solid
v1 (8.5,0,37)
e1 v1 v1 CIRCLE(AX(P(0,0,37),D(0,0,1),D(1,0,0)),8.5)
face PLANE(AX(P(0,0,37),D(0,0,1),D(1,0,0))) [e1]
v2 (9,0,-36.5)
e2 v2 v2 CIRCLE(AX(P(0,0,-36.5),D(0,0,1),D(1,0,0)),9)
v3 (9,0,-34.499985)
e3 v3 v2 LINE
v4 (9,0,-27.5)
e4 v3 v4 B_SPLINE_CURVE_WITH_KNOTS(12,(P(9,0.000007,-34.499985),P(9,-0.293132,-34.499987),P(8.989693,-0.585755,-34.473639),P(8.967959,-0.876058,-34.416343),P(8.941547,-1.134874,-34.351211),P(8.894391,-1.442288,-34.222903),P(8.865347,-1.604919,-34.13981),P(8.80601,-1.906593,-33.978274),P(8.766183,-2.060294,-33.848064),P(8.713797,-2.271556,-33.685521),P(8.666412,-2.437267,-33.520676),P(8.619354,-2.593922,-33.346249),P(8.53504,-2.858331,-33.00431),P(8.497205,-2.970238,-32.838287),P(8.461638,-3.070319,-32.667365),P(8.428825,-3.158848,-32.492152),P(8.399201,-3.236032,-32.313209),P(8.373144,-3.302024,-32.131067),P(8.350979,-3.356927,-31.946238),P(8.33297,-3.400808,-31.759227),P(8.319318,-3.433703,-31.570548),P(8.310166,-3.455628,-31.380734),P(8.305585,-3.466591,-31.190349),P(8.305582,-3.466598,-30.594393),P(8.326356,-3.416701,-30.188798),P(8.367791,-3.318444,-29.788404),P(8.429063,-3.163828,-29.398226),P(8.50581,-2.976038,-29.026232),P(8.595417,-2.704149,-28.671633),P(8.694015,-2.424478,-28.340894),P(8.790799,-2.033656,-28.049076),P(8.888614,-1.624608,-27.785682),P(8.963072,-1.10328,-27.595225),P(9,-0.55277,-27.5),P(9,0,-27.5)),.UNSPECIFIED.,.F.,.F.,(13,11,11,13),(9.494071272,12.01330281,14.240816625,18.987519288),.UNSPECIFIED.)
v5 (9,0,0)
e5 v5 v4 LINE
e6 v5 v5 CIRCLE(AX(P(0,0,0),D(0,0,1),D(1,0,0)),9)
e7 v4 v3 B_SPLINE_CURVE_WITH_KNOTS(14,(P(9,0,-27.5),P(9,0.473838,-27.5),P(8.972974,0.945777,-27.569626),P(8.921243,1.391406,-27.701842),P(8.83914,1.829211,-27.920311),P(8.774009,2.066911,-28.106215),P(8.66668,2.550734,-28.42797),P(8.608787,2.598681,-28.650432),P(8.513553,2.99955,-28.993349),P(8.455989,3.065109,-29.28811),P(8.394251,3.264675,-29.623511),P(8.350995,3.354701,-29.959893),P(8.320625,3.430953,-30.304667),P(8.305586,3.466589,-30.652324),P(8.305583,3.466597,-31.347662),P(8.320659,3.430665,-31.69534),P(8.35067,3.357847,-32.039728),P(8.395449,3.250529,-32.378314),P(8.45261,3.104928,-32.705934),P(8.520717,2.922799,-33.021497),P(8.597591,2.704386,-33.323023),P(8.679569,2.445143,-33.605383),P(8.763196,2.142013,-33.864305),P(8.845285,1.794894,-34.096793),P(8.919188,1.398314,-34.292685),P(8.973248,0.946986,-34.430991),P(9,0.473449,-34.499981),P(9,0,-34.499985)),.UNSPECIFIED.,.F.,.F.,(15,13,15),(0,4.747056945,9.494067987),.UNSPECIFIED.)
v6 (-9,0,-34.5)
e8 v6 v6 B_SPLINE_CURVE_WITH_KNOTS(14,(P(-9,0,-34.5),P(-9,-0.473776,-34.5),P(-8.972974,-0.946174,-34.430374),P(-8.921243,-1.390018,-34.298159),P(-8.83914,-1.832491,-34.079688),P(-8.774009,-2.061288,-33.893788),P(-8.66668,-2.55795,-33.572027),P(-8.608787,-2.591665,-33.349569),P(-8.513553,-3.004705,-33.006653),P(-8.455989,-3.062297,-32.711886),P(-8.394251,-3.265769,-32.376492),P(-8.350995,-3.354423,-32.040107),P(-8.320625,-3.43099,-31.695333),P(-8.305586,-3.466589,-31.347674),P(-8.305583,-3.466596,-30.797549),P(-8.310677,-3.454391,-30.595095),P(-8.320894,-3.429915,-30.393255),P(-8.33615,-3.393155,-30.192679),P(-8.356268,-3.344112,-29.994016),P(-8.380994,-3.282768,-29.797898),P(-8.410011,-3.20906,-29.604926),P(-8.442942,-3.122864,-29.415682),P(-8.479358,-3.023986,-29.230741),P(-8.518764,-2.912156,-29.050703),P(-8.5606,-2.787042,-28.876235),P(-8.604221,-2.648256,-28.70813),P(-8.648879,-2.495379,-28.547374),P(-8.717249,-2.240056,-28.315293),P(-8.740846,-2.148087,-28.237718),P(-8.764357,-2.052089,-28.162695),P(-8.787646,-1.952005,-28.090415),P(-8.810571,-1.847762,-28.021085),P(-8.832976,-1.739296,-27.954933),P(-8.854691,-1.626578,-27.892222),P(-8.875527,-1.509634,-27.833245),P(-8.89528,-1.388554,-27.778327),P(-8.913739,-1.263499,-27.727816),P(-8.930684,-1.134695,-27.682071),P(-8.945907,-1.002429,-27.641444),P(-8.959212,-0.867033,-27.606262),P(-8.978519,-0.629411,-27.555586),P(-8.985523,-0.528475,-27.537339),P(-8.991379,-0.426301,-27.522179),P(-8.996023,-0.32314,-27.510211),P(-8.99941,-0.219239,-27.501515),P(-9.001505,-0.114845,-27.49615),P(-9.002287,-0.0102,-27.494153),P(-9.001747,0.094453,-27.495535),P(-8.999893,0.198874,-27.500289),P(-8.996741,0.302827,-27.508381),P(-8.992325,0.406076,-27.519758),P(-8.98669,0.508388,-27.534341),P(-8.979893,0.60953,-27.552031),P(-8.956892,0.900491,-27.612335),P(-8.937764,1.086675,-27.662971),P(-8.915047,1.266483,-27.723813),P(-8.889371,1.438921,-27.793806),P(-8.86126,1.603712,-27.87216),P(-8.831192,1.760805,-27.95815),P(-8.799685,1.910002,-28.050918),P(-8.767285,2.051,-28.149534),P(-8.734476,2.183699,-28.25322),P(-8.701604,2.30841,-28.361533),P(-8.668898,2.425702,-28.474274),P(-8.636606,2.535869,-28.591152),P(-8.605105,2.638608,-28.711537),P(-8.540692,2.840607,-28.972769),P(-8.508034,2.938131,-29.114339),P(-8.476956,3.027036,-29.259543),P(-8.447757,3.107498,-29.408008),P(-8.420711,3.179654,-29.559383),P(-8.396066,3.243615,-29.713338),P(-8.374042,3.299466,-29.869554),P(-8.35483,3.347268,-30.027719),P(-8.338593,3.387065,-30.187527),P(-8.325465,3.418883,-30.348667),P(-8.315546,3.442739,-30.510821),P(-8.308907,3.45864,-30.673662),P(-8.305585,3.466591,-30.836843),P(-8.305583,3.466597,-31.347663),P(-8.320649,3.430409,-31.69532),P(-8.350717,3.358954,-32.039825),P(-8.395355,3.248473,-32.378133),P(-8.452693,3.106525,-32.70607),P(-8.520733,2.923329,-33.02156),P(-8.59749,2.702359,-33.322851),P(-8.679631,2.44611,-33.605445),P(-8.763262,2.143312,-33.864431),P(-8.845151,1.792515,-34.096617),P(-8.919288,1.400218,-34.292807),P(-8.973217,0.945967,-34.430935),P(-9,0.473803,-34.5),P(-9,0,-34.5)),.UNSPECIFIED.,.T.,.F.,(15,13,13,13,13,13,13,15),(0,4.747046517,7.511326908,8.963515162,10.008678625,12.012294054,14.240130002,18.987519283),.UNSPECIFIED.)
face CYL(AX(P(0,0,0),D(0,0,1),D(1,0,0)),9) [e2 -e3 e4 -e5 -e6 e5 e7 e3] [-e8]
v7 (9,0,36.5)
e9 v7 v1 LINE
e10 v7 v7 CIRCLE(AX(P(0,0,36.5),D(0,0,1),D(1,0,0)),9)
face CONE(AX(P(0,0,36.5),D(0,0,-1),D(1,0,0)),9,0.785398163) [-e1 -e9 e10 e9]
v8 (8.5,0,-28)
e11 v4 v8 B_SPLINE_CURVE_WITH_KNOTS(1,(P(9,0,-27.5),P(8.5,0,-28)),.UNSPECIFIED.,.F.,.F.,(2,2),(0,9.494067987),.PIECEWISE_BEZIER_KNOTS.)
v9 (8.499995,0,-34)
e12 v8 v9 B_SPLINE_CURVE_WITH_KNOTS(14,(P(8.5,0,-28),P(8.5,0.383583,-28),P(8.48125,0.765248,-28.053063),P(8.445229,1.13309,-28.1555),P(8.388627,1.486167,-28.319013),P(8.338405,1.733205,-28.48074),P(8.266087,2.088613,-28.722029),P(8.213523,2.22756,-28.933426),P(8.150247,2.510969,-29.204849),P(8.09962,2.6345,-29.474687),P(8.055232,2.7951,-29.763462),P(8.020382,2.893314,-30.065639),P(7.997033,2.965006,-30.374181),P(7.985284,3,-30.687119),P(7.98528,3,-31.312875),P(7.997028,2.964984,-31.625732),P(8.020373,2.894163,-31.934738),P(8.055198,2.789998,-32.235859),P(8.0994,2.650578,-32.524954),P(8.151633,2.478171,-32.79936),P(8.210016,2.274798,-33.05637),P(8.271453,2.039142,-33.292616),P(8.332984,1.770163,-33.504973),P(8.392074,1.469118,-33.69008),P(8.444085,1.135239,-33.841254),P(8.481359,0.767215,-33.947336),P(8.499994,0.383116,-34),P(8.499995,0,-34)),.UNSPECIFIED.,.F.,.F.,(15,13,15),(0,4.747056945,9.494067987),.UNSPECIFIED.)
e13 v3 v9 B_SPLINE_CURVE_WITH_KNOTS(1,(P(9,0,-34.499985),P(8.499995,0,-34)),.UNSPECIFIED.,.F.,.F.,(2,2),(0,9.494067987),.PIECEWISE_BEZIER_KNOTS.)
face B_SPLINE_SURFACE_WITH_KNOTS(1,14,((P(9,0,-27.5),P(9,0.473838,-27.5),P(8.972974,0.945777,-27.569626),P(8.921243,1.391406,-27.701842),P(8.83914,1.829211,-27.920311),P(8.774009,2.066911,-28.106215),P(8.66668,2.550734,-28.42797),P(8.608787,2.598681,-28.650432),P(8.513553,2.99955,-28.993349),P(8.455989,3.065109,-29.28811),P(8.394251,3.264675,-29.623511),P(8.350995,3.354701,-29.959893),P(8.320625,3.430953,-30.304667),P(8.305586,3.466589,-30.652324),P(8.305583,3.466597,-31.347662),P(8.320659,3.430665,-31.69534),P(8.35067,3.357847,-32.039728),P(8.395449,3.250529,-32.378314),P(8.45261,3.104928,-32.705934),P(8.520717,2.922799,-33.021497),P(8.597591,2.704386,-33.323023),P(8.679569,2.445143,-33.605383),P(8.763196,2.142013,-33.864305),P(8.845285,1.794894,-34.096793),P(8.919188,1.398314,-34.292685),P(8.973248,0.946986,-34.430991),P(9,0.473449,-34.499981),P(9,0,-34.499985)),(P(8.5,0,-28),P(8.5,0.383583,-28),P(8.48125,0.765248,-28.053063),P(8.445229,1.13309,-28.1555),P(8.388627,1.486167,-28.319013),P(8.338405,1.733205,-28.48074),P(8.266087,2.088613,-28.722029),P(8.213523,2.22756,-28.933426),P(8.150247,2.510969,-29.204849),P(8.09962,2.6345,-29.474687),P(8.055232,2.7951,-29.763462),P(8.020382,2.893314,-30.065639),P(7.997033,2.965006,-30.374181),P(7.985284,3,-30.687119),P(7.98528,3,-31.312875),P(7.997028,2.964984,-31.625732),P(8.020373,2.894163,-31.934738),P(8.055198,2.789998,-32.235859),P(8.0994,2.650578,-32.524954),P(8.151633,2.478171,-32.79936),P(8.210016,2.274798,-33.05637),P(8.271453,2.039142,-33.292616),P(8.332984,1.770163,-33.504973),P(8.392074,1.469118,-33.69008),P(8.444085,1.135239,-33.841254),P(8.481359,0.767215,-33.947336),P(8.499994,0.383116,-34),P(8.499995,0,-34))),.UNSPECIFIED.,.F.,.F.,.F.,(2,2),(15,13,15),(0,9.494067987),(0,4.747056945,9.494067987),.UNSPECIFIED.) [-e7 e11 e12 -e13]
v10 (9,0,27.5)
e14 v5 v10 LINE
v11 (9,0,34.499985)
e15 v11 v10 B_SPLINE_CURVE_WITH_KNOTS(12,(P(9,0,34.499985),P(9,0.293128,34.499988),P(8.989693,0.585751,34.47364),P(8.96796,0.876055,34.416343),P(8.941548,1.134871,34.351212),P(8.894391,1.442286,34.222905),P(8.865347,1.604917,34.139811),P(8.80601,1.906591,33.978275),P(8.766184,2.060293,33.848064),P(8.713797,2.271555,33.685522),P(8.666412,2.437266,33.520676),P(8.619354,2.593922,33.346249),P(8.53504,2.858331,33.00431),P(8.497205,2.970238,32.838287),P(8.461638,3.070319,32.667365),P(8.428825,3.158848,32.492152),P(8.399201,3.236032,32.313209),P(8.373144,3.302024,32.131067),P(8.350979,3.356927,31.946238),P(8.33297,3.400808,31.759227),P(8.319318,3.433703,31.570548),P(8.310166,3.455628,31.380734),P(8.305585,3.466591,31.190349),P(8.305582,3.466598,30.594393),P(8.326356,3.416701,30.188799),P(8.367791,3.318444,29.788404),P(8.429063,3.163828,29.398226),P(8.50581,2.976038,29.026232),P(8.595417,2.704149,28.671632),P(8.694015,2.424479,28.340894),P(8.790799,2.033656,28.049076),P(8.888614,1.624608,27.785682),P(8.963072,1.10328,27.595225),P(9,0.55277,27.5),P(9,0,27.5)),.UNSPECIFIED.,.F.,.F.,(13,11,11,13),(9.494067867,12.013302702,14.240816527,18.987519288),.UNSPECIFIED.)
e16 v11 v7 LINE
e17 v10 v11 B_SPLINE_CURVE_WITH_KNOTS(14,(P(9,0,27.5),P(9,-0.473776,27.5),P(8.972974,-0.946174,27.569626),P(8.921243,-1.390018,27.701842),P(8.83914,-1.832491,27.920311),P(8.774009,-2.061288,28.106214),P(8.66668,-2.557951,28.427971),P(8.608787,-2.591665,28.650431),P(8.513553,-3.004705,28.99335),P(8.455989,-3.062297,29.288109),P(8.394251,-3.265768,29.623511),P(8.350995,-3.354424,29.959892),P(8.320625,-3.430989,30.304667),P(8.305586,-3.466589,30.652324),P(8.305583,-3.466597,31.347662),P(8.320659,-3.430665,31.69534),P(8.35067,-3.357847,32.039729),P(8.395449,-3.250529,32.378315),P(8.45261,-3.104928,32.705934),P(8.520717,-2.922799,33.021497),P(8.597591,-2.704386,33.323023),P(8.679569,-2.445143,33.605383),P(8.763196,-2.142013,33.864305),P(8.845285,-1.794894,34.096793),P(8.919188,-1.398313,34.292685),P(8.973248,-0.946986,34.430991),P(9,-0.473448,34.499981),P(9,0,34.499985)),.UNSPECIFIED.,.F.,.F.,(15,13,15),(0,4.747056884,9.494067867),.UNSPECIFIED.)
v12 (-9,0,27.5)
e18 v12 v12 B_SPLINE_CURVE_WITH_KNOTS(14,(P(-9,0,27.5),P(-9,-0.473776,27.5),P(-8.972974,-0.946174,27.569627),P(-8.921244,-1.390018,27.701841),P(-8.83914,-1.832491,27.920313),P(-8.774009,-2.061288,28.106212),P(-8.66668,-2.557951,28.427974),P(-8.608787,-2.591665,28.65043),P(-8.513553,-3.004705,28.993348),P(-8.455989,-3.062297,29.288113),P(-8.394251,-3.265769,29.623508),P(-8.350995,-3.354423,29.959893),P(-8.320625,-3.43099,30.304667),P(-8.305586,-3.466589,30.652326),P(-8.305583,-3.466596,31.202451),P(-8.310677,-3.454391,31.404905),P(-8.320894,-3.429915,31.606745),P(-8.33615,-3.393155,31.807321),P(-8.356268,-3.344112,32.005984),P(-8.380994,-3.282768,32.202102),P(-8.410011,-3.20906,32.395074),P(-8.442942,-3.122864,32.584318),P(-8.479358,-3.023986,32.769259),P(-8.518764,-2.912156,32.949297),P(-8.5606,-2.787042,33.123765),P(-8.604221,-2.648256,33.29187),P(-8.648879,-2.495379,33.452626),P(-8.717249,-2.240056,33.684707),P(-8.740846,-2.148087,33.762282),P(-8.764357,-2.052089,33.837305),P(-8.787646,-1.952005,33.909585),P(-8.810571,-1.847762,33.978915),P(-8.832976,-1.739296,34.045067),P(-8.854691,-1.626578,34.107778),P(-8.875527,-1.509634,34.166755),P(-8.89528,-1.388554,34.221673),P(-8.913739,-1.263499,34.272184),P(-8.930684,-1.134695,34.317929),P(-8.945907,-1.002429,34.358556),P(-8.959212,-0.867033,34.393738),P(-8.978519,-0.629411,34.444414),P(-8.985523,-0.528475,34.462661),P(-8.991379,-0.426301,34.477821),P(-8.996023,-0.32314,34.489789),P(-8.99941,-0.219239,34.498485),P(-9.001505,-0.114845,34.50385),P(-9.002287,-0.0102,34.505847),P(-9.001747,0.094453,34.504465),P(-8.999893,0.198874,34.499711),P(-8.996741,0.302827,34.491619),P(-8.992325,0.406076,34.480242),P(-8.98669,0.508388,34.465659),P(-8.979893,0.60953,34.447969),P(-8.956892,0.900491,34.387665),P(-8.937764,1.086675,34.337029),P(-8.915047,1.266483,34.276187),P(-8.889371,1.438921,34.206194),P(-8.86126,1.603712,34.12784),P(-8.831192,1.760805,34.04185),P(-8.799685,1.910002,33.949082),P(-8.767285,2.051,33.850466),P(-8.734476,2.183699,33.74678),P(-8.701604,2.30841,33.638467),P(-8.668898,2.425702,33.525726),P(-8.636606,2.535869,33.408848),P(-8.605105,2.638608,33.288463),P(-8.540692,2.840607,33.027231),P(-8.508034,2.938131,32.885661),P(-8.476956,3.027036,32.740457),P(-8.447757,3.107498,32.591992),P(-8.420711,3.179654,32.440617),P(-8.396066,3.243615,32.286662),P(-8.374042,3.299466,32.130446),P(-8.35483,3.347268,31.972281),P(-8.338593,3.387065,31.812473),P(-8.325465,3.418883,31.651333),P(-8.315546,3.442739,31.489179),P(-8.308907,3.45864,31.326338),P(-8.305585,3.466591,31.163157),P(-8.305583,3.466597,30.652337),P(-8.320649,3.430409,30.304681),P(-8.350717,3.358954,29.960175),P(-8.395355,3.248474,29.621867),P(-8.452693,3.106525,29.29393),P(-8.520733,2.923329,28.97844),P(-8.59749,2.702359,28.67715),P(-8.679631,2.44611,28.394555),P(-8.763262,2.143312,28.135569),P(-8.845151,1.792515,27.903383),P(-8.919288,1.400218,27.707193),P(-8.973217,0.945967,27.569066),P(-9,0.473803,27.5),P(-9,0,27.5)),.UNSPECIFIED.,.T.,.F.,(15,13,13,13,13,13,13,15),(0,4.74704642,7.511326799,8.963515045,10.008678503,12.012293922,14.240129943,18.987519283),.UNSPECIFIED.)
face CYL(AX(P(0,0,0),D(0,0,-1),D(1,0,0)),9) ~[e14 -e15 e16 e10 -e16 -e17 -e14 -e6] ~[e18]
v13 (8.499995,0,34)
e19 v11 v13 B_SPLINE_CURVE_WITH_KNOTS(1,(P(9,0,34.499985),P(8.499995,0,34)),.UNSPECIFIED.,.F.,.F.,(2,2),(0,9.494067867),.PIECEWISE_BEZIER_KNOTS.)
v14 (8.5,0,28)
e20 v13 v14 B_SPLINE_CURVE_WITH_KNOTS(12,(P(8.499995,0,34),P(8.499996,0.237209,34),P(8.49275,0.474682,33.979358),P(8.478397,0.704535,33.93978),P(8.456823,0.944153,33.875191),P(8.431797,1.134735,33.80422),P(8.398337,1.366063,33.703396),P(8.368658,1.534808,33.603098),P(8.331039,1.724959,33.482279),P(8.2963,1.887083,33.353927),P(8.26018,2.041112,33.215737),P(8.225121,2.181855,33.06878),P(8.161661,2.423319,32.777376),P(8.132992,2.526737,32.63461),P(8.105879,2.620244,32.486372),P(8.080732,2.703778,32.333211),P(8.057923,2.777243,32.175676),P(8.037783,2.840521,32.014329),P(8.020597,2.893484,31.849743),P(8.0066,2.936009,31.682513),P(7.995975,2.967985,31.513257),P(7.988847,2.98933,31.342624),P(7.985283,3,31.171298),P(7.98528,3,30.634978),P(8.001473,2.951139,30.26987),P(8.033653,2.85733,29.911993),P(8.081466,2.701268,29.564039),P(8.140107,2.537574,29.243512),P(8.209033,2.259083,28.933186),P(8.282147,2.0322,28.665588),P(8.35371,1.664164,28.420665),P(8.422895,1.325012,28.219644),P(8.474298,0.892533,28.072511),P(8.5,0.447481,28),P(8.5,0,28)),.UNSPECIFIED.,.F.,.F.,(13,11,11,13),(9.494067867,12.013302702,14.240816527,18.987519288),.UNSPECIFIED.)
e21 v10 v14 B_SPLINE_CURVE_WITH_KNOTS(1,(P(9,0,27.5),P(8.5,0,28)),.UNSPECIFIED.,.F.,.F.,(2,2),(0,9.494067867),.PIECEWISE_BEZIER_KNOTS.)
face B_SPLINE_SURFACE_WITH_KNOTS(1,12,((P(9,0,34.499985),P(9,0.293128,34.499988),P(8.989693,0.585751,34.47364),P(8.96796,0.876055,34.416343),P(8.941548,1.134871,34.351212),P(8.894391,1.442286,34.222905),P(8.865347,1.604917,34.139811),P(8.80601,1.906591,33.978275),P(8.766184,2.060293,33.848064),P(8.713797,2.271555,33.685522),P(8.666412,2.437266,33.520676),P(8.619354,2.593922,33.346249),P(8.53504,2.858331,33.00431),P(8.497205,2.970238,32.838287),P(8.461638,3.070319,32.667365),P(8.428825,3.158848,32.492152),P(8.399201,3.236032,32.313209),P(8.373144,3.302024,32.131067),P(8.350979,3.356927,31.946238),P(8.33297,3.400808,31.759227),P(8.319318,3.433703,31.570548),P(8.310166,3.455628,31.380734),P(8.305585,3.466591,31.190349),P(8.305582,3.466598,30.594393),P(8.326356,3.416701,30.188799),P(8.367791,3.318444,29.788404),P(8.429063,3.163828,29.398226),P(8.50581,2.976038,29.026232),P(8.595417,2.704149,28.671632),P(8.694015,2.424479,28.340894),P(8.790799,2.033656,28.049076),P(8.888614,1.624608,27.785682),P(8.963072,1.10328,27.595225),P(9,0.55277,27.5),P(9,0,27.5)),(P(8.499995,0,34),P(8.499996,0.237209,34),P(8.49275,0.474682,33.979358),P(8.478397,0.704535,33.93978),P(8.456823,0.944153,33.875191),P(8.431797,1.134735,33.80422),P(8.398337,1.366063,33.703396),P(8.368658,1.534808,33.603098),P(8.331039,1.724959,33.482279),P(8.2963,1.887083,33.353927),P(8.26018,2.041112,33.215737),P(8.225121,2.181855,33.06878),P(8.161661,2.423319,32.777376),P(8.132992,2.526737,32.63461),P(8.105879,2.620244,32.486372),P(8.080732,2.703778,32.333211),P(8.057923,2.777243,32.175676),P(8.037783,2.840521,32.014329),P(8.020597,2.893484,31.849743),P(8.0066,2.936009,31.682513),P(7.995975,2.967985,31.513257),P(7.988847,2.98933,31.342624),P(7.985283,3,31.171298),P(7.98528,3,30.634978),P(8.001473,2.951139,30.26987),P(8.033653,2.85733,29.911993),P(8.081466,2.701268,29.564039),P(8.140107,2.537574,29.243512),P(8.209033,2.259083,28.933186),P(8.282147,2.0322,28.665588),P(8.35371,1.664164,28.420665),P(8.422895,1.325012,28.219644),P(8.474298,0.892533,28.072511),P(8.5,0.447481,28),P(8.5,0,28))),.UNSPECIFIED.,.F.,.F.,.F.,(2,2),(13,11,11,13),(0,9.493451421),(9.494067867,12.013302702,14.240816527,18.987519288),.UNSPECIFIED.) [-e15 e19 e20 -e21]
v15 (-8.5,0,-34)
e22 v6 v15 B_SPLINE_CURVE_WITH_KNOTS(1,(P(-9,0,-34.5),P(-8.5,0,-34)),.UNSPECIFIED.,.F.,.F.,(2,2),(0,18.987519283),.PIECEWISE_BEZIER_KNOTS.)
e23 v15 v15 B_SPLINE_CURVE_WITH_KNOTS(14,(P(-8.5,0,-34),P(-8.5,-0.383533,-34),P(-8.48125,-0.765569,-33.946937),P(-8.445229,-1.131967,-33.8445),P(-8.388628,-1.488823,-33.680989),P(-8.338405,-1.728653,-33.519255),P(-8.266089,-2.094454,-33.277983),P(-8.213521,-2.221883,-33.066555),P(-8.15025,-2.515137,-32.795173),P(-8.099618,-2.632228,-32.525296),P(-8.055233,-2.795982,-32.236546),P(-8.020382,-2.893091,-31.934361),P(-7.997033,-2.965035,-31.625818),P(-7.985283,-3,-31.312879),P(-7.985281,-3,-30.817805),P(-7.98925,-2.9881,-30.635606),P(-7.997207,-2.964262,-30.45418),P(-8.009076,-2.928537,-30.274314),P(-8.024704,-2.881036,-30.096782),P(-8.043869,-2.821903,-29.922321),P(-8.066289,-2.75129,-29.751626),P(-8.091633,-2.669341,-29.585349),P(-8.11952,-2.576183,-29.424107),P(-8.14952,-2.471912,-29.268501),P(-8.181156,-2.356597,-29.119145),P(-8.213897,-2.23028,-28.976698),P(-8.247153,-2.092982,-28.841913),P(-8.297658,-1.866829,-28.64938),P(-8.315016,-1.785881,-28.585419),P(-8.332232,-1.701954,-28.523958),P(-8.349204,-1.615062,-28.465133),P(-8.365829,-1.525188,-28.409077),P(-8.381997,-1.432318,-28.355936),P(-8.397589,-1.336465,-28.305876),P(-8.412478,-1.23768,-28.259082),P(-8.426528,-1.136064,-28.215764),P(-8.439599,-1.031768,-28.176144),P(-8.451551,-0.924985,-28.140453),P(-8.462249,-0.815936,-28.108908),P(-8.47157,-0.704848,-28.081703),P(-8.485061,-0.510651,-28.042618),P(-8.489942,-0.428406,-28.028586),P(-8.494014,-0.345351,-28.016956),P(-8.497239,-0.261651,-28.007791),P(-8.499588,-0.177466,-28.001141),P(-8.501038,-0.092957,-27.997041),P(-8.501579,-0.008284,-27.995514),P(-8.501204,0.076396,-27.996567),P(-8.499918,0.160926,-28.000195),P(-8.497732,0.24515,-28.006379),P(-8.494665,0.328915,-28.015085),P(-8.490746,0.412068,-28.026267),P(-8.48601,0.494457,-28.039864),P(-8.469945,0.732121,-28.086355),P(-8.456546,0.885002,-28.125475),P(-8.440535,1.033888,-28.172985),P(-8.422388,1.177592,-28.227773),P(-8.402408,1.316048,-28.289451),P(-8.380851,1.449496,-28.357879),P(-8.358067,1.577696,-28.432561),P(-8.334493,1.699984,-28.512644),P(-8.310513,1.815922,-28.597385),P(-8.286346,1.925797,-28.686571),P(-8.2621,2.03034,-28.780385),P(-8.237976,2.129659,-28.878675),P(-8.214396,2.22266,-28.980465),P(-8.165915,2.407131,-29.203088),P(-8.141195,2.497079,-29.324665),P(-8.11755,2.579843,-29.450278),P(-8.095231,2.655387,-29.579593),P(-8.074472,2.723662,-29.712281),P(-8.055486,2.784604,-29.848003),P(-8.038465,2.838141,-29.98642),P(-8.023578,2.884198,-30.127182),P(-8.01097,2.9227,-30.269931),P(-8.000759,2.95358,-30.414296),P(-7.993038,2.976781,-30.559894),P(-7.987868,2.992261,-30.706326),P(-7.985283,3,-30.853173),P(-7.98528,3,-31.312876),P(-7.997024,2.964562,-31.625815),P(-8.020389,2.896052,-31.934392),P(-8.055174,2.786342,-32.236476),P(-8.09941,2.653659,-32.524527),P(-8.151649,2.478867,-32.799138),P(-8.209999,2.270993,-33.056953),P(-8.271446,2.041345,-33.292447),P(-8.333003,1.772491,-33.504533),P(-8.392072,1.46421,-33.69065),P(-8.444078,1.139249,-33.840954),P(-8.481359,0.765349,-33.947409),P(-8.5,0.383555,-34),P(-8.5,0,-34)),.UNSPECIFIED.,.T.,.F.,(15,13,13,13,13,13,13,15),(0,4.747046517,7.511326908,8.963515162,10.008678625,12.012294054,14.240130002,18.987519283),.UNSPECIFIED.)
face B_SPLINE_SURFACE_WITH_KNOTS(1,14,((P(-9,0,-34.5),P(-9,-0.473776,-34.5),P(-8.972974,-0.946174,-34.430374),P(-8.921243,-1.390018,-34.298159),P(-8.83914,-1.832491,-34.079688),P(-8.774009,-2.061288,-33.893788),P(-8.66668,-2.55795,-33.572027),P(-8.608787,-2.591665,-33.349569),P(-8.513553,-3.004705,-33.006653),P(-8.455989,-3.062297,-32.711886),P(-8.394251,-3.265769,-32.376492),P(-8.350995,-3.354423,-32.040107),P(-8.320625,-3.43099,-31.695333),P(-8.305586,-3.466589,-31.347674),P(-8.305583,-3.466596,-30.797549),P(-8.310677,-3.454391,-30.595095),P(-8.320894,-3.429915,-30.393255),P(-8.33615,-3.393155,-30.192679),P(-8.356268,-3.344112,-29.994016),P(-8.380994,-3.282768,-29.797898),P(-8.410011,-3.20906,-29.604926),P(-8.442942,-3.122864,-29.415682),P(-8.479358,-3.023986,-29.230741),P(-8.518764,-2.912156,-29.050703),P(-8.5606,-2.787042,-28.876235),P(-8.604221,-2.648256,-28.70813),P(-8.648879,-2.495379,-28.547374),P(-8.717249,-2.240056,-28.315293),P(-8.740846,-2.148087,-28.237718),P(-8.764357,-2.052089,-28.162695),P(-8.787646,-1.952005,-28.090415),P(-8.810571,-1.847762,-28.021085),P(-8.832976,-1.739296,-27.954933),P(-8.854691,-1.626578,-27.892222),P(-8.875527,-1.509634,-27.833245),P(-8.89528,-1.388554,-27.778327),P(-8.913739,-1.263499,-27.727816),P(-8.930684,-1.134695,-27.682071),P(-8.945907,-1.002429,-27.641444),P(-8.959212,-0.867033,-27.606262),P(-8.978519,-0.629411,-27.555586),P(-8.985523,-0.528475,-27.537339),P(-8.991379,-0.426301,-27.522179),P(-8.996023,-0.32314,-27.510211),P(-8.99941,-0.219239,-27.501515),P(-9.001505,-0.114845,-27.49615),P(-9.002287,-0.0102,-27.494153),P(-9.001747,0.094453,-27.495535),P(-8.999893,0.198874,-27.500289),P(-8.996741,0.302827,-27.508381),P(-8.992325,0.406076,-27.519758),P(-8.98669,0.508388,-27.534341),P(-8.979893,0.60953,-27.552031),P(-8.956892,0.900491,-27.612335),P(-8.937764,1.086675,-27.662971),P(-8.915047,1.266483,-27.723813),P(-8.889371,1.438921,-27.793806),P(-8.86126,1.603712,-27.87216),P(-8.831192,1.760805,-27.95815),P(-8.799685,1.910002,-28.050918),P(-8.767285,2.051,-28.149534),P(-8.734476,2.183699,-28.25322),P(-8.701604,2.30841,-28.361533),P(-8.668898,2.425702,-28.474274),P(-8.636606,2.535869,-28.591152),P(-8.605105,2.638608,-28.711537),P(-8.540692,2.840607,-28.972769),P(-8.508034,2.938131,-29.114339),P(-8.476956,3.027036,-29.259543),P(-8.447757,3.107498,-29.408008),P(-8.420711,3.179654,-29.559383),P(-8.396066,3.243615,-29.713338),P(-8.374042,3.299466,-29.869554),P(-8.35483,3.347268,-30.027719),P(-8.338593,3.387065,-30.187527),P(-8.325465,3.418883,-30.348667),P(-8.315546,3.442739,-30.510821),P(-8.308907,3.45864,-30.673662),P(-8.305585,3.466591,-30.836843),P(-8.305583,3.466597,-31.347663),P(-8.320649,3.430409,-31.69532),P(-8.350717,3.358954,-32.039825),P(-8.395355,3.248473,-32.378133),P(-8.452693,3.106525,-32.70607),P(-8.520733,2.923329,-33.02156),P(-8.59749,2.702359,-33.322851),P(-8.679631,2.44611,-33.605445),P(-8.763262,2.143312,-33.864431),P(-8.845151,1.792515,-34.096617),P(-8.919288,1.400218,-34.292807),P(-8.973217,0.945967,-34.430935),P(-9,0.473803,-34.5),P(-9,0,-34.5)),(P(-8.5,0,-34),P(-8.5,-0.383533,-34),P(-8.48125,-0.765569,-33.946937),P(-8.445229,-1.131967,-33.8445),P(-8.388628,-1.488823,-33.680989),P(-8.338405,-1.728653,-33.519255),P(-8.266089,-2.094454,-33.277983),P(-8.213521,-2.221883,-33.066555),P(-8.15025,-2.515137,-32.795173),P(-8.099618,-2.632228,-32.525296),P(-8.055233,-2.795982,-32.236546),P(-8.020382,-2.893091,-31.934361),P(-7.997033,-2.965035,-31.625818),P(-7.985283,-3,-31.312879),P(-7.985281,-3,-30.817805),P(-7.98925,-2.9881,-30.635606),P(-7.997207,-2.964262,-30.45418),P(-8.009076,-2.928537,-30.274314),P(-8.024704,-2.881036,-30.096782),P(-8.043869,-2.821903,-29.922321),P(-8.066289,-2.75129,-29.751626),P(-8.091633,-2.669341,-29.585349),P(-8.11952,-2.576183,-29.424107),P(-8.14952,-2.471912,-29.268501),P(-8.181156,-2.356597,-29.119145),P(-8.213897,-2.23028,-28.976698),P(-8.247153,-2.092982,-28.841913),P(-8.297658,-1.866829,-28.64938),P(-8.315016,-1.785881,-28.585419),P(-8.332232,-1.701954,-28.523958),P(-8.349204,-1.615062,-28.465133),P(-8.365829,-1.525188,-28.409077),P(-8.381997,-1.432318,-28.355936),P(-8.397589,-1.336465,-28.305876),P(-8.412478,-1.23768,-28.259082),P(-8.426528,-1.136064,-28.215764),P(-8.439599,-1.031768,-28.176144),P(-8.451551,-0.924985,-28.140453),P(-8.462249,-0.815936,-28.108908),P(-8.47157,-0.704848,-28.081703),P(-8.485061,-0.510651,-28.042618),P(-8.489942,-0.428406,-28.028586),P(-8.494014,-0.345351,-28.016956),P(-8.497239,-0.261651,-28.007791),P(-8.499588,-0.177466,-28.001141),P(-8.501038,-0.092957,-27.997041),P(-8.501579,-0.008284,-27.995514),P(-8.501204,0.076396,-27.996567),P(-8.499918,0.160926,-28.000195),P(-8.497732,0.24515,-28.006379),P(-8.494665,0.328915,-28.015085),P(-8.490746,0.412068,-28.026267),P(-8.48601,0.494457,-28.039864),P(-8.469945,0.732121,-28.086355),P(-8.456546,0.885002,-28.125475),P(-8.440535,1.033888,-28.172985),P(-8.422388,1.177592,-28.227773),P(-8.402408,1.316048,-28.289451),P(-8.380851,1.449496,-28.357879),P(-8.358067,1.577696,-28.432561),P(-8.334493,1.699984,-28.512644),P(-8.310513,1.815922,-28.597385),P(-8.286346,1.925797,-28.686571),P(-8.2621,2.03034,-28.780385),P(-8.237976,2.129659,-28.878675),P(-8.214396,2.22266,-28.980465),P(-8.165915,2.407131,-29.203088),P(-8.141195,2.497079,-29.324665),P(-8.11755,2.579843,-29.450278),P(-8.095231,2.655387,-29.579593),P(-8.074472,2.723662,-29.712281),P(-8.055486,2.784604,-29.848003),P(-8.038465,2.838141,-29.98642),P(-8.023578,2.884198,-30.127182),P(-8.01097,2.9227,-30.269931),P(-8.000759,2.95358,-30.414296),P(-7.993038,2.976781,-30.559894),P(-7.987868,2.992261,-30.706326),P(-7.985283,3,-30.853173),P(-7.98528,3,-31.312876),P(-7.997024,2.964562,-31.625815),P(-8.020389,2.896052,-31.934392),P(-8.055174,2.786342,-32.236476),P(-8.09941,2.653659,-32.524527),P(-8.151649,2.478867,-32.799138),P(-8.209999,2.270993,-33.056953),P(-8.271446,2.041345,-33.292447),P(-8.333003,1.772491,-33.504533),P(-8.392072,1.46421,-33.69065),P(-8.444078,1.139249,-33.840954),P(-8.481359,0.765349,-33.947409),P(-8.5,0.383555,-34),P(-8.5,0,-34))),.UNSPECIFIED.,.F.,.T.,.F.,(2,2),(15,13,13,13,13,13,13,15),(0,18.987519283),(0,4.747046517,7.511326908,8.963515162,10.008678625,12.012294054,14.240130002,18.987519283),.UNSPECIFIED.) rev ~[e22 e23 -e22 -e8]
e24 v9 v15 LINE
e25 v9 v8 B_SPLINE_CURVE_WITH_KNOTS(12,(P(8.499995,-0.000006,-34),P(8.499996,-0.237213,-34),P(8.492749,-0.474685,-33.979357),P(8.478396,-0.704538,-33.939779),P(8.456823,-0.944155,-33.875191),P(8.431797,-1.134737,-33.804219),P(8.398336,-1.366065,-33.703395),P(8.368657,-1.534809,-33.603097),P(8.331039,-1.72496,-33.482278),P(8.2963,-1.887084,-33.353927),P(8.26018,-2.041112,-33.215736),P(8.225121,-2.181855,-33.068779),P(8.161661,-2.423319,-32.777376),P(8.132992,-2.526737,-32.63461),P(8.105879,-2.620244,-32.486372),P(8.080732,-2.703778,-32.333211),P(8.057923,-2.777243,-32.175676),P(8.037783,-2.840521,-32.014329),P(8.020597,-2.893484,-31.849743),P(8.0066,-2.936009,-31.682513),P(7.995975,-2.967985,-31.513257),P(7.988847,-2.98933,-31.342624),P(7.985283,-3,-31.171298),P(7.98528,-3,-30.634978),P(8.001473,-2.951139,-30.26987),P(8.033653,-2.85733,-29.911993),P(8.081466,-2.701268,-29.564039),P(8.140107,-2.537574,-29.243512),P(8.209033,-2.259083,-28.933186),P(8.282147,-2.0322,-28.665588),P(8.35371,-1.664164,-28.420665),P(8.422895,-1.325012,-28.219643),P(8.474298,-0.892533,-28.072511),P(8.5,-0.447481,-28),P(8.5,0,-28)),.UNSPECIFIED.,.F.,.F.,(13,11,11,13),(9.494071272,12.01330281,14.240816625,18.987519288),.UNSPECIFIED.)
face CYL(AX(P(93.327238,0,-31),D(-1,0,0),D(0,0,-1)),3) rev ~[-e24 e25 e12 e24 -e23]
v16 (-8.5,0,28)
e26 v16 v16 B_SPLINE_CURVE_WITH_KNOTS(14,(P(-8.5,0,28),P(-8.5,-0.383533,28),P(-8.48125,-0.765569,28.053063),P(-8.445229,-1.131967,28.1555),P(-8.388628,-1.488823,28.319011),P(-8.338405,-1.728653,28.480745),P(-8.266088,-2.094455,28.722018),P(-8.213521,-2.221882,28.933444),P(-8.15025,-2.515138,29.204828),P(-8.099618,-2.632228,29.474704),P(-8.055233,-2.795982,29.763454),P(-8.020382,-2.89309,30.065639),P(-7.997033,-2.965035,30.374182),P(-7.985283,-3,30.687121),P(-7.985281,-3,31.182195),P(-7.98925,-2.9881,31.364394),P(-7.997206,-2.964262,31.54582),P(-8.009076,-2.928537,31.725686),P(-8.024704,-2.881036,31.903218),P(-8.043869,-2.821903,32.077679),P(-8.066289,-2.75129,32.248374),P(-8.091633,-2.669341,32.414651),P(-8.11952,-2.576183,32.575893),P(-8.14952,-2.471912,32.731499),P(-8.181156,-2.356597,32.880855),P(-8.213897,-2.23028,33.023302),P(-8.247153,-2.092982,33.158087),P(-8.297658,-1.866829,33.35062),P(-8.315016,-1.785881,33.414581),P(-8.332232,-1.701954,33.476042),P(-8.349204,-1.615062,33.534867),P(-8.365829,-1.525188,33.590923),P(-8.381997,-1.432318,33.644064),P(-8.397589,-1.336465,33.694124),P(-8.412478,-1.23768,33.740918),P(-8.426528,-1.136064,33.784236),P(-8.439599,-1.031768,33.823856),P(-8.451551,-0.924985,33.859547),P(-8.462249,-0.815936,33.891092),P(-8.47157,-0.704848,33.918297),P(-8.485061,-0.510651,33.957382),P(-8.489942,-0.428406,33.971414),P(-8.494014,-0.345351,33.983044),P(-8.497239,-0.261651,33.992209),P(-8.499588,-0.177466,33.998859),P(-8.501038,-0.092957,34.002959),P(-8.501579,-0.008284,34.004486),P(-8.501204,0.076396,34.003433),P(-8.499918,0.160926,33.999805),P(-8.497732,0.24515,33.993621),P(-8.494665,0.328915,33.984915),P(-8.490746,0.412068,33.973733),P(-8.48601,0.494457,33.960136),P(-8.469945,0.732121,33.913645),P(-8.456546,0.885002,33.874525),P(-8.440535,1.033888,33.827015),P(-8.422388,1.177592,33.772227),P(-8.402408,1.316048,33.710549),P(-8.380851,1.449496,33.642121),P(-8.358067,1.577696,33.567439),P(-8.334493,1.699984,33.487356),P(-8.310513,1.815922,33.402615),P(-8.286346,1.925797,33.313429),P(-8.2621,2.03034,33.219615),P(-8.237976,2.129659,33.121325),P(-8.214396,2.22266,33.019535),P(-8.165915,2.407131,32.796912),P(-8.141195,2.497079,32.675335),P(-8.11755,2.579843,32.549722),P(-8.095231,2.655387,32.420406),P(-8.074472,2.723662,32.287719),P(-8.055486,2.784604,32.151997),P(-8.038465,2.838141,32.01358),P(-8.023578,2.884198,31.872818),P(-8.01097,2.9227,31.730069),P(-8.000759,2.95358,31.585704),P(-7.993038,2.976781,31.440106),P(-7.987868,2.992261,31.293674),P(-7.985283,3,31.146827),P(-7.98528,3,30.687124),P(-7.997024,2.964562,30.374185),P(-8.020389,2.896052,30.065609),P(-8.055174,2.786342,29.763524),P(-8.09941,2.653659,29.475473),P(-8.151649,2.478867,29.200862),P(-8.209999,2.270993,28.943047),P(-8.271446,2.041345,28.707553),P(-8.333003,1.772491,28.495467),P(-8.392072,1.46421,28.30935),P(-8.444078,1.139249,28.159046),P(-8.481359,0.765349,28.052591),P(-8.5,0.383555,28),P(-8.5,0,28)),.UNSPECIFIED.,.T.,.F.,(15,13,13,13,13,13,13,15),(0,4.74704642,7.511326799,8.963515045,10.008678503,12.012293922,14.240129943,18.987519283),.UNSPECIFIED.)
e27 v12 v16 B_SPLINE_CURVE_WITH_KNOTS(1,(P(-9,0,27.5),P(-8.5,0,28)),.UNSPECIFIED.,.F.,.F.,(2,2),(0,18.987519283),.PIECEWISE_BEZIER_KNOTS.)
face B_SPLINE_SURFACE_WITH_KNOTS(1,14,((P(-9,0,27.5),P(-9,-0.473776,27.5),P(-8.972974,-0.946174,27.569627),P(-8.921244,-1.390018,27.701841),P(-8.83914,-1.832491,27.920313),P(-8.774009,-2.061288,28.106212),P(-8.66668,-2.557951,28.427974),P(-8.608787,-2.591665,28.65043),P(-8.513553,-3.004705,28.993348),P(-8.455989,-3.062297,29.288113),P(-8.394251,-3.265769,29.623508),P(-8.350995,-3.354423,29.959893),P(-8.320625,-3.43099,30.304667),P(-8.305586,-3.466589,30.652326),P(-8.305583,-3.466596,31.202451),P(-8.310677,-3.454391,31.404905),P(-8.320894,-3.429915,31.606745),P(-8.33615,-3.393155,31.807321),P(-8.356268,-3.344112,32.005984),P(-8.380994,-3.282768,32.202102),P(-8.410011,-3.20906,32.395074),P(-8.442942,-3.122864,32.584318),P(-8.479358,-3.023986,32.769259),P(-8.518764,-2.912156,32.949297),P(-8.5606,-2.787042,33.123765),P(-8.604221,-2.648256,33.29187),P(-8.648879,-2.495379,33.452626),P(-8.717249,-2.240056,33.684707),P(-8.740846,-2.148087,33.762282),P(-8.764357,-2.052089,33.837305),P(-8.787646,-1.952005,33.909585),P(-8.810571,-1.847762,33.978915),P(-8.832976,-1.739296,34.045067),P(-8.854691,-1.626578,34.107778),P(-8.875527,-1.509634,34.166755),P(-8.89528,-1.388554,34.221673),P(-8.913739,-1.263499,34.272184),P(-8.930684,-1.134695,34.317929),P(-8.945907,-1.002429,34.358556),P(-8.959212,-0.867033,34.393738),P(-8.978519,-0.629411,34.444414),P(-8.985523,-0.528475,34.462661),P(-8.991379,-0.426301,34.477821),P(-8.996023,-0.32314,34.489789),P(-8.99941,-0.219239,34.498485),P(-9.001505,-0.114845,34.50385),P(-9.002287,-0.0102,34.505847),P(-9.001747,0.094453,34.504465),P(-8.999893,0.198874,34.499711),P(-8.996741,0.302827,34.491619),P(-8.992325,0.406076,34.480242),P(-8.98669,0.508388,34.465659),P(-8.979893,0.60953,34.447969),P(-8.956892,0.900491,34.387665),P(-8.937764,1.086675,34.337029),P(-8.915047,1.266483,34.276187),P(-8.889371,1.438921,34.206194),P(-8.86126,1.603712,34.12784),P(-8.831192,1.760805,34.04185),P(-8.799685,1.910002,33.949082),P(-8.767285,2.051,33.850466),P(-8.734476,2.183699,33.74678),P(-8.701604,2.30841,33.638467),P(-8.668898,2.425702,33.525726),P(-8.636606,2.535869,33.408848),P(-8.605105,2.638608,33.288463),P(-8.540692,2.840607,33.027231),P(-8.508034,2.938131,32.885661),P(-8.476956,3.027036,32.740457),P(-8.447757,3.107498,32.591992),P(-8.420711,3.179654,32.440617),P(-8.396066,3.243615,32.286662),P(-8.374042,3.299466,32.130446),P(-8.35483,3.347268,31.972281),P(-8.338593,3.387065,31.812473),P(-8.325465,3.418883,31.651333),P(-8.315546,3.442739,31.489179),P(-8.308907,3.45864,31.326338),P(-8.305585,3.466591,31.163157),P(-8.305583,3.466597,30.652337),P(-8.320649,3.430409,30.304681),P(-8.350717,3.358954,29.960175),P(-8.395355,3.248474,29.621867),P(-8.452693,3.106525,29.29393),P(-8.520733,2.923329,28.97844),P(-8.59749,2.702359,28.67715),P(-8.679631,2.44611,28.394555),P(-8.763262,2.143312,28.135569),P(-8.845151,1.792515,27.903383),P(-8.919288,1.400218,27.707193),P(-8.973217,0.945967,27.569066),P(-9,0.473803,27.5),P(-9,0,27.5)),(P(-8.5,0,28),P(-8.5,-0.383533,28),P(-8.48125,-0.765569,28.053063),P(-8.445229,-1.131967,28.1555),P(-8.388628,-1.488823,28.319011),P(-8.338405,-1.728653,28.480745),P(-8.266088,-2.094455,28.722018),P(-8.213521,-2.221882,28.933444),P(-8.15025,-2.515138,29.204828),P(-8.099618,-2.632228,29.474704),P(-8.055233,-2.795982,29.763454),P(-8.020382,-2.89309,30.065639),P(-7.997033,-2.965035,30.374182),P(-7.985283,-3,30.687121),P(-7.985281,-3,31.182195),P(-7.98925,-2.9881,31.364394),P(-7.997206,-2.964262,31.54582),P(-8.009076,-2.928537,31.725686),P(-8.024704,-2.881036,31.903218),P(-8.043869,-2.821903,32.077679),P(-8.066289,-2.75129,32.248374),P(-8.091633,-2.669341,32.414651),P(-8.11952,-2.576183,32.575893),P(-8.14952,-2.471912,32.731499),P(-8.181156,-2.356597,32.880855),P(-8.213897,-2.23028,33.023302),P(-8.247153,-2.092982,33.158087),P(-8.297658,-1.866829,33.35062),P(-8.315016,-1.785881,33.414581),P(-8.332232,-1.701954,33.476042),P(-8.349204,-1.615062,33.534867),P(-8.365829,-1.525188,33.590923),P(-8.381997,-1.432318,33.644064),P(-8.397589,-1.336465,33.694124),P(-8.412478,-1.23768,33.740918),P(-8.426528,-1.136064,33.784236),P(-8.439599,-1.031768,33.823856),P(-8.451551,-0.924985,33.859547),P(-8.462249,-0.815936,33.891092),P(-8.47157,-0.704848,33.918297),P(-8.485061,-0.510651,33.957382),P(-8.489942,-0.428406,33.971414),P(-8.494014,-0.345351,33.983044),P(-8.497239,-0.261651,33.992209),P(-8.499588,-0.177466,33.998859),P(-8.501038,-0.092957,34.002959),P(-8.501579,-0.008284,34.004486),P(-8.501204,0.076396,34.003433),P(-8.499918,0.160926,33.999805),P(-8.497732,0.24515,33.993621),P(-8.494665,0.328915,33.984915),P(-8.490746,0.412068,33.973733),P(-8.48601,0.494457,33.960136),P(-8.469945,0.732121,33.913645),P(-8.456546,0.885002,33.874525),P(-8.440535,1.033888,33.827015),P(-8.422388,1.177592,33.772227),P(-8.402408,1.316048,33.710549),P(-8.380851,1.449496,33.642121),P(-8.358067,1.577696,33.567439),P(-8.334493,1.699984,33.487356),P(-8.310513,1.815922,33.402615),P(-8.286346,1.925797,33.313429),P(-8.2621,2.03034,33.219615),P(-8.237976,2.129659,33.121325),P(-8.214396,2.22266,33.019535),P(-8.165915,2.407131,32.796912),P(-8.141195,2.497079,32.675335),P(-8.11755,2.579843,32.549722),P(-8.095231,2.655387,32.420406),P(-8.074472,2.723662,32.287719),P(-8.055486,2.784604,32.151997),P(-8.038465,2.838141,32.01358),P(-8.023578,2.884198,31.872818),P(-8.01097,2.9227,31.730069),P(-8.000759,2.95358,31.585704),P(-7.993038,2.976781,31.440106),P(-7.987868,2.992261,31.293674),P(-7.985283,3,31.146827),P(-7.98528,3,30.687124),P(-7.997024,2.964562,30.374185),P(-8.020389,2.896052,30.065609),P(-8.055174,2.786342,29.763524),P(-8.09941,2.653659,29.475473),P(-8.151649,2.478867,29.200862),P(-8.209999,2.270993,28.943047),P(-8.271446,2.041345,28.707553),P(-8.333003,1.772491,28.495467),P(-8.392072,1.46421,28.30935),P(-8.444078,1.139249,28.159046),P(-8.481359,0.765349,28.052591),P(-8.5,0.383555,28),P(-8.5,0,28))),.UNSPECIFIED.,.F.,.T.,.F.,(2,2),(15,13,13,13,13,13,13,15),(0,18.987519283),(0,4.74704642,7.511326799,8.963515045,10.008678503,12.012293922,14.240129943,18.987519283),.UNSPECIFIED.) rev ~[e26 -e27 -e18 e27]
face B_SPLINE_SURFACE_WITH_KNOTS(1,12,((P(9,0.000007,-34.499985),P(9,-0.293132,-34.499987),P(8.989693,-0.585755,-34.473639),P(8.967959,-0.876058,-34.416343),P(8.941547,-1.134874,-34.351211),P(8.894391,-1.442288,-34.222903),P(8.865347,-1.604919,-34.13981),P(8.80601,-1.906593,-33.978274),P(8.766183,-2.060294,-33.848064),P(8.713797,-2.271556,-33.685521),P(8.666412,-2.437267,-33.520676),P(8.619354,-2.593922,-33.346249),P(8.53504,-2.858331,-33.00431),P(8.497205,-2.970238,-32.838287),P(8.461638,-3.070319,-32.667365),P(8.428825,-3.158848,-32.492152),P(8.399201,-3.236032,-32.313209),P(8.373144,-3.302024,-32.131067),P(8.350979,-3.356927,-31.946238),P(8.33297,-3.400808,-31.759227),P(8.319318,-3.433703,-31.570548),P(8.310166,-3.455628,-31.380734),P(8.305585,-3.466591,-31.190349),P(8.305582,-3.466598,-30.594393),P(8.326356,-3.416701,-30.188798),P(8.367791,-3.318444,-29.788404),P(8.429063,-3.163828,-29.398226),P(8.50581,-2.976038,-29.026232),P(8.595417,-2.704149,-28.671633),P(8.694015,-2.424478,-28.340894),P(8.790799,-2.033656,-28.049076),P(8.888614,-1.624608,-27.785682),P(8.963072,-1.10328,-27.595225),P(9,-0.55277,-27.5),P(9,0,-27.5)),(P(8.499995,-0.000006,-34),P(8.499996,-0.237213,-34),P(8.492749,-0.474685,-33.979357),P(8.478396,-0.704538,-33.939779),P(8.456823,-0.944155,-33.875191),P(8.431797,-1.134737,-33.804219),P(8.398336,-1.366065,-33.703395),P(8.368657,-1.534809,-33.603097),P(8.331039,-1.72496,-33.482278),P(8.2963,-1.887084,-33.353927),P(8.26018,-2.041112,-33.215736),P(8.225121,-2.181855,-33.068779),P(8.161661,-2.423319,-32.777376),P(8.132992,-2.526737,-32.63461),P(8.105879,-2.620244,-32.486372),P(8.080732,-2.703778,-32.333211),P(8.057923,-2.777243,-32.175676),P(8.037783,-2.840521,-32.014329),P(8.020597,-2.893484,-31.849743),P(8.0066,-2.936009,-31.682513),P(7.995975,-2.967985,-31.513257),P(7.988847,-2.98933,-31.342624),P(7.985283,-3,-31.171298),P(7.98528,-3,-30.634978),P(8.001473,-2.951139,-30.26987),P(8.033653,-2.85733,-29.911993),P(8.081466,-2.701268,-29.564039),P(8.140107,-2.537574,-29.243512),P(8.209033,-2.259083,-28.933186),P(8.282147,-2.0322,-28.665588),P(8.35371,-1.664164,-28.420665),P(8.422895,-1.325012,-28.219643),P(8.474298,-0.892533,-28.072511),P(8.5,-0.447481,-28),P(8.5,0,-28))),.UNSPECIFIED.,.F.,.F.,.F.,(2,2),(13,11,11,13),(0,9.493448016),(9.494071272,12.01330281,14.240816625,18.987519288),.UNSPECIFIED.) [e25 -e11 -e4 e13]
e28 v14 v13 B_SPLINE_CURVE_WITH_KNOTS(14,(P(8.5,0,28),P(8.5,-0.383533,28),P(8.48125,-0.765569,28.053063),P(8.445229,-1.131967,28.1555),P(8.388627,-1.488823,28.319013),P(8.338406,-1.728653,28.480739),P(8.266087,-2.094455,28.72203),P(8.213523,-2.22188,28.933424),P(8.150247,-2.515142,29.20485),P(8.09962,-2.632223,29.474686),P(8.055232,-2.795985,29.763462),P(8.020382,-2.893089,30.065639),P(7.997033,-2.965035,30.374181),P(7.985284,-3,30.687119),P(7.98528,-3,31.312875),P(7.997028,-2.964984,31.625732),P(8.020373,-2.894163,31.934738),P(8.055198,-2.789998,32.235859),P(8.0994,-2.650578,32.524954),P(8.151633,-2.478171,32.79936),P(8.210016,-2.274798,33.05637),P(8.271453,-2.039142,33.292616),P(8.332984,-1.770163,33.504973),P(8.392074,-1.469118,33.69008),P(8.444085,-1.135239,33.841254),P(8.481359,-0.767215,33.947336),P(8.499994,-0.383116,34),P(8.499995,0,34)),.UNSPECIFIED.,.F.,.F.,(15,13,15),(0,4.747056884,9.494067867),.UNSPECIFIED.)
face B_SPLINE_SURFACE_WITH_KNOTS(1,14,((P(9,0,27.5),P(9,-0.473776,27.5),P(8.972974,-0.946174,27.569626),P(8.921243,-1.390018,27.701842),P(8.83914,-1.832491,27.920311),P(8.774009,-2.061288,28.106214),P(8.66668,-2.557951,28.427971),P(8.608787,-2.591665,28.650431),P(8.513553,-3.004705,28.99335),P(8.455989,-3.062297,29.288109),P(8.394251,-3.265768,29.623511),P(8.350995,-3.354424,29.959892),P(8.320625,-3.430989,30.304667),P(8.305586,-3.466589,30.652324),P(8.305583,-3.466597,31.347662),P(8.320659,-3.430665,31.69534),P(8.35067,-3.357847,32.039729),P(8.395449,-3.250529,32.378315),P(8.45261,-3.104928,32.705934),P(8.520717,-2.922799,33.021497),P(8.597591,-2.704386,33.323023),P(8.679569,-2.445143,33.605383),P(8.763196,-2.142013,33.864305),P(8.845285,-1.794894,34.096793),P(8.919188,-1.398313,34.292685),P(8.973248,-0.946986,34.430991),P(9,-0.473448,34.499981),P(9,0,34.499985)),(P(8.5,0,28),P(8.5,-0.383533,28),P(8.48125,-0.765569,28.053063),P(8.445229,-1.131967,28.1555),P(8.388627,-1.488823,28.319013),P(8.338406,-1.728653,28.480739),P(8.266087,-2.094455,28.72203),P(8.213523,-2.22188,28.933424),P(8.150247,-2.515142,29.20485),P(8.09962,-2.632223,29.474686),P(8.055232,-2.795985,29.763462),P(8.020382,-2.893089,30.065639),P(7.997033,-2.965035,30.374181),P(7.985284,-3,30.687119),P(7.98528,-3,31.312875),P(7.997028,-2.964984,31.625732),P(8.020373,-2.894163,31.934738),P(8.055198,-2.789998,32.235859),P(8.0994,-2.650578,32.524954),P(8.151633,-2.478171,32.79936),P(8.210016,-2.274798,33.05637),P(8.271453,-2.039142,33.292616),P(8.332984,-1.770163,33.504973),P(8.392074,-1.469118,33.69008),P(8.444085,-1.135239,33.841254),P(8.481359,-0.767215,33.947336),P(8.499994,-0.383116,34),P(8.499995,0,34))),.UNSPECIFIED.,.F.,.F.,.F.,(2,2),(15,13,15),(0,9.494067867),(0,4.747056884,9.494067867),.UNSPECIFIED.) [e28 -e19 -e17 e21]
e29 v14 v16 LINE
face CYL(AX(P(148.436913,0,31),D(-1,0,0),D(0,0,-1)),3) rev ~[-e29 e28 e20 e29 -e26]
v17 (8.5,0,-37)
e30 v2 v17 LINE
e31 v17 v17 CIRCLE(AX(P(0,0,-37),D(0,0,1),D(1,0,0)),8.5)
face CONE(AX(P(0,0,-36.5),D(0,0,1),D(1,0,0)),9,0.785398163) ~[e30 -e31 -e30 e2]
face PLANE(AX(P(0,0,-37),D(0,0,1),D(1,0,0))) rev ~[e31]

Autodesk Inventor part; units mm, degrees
ref_plane "YZ Plane" through (0, 0, 0) normal (1, 0, 0) x (0, 1, 0)
ref_plane "XZ Plane" through (0, 0, 0) normal (0, 1, 0) x (-1, 0, 0)
ref_plane "XY Plane" through (0, 0, 0) normal (0, 0, 1) x (1, 0, 0)
sketch "Schizzo1" plane through (0, 0, 0) normal (0, 0, 1) x (1, 0, 0)
  circle A0 centre (0, 0) radius 9
  dimension "diametro" = 18
extrude "Estrusione1" add sketch "Schizzo1" along normal mid plane 74
sketch "Schizzo2" plane through (0, 0, 0) normal (1, 0, 0) x (0, 1, 0)
  line L0 (0, 0) -> (0, -36.2228) construction
  line L1 (0, 0) -> (14.2779, 0) construction
  point P0 (0, -31)
  point P1 (0, 31)
  dimension "L1" = 62
hole "Foro1" at (0, 0, -31) at (0, 0, 31) direction (-1, 0, 0) diameter 6 end through all both
chamfer "Smusso1" distance 0.5 angle 45 8 edges at (-9, 0, 37) (-9, 0, -37) (8.4853, -3, 31) (8.4853, 3, 31) (-9, 0.0004, 34) (8.4853, 3, -31) (8.4853, -3, -31) (-9, 0.0004, -28)
properties part number "05-16-2023 Perno-02"
